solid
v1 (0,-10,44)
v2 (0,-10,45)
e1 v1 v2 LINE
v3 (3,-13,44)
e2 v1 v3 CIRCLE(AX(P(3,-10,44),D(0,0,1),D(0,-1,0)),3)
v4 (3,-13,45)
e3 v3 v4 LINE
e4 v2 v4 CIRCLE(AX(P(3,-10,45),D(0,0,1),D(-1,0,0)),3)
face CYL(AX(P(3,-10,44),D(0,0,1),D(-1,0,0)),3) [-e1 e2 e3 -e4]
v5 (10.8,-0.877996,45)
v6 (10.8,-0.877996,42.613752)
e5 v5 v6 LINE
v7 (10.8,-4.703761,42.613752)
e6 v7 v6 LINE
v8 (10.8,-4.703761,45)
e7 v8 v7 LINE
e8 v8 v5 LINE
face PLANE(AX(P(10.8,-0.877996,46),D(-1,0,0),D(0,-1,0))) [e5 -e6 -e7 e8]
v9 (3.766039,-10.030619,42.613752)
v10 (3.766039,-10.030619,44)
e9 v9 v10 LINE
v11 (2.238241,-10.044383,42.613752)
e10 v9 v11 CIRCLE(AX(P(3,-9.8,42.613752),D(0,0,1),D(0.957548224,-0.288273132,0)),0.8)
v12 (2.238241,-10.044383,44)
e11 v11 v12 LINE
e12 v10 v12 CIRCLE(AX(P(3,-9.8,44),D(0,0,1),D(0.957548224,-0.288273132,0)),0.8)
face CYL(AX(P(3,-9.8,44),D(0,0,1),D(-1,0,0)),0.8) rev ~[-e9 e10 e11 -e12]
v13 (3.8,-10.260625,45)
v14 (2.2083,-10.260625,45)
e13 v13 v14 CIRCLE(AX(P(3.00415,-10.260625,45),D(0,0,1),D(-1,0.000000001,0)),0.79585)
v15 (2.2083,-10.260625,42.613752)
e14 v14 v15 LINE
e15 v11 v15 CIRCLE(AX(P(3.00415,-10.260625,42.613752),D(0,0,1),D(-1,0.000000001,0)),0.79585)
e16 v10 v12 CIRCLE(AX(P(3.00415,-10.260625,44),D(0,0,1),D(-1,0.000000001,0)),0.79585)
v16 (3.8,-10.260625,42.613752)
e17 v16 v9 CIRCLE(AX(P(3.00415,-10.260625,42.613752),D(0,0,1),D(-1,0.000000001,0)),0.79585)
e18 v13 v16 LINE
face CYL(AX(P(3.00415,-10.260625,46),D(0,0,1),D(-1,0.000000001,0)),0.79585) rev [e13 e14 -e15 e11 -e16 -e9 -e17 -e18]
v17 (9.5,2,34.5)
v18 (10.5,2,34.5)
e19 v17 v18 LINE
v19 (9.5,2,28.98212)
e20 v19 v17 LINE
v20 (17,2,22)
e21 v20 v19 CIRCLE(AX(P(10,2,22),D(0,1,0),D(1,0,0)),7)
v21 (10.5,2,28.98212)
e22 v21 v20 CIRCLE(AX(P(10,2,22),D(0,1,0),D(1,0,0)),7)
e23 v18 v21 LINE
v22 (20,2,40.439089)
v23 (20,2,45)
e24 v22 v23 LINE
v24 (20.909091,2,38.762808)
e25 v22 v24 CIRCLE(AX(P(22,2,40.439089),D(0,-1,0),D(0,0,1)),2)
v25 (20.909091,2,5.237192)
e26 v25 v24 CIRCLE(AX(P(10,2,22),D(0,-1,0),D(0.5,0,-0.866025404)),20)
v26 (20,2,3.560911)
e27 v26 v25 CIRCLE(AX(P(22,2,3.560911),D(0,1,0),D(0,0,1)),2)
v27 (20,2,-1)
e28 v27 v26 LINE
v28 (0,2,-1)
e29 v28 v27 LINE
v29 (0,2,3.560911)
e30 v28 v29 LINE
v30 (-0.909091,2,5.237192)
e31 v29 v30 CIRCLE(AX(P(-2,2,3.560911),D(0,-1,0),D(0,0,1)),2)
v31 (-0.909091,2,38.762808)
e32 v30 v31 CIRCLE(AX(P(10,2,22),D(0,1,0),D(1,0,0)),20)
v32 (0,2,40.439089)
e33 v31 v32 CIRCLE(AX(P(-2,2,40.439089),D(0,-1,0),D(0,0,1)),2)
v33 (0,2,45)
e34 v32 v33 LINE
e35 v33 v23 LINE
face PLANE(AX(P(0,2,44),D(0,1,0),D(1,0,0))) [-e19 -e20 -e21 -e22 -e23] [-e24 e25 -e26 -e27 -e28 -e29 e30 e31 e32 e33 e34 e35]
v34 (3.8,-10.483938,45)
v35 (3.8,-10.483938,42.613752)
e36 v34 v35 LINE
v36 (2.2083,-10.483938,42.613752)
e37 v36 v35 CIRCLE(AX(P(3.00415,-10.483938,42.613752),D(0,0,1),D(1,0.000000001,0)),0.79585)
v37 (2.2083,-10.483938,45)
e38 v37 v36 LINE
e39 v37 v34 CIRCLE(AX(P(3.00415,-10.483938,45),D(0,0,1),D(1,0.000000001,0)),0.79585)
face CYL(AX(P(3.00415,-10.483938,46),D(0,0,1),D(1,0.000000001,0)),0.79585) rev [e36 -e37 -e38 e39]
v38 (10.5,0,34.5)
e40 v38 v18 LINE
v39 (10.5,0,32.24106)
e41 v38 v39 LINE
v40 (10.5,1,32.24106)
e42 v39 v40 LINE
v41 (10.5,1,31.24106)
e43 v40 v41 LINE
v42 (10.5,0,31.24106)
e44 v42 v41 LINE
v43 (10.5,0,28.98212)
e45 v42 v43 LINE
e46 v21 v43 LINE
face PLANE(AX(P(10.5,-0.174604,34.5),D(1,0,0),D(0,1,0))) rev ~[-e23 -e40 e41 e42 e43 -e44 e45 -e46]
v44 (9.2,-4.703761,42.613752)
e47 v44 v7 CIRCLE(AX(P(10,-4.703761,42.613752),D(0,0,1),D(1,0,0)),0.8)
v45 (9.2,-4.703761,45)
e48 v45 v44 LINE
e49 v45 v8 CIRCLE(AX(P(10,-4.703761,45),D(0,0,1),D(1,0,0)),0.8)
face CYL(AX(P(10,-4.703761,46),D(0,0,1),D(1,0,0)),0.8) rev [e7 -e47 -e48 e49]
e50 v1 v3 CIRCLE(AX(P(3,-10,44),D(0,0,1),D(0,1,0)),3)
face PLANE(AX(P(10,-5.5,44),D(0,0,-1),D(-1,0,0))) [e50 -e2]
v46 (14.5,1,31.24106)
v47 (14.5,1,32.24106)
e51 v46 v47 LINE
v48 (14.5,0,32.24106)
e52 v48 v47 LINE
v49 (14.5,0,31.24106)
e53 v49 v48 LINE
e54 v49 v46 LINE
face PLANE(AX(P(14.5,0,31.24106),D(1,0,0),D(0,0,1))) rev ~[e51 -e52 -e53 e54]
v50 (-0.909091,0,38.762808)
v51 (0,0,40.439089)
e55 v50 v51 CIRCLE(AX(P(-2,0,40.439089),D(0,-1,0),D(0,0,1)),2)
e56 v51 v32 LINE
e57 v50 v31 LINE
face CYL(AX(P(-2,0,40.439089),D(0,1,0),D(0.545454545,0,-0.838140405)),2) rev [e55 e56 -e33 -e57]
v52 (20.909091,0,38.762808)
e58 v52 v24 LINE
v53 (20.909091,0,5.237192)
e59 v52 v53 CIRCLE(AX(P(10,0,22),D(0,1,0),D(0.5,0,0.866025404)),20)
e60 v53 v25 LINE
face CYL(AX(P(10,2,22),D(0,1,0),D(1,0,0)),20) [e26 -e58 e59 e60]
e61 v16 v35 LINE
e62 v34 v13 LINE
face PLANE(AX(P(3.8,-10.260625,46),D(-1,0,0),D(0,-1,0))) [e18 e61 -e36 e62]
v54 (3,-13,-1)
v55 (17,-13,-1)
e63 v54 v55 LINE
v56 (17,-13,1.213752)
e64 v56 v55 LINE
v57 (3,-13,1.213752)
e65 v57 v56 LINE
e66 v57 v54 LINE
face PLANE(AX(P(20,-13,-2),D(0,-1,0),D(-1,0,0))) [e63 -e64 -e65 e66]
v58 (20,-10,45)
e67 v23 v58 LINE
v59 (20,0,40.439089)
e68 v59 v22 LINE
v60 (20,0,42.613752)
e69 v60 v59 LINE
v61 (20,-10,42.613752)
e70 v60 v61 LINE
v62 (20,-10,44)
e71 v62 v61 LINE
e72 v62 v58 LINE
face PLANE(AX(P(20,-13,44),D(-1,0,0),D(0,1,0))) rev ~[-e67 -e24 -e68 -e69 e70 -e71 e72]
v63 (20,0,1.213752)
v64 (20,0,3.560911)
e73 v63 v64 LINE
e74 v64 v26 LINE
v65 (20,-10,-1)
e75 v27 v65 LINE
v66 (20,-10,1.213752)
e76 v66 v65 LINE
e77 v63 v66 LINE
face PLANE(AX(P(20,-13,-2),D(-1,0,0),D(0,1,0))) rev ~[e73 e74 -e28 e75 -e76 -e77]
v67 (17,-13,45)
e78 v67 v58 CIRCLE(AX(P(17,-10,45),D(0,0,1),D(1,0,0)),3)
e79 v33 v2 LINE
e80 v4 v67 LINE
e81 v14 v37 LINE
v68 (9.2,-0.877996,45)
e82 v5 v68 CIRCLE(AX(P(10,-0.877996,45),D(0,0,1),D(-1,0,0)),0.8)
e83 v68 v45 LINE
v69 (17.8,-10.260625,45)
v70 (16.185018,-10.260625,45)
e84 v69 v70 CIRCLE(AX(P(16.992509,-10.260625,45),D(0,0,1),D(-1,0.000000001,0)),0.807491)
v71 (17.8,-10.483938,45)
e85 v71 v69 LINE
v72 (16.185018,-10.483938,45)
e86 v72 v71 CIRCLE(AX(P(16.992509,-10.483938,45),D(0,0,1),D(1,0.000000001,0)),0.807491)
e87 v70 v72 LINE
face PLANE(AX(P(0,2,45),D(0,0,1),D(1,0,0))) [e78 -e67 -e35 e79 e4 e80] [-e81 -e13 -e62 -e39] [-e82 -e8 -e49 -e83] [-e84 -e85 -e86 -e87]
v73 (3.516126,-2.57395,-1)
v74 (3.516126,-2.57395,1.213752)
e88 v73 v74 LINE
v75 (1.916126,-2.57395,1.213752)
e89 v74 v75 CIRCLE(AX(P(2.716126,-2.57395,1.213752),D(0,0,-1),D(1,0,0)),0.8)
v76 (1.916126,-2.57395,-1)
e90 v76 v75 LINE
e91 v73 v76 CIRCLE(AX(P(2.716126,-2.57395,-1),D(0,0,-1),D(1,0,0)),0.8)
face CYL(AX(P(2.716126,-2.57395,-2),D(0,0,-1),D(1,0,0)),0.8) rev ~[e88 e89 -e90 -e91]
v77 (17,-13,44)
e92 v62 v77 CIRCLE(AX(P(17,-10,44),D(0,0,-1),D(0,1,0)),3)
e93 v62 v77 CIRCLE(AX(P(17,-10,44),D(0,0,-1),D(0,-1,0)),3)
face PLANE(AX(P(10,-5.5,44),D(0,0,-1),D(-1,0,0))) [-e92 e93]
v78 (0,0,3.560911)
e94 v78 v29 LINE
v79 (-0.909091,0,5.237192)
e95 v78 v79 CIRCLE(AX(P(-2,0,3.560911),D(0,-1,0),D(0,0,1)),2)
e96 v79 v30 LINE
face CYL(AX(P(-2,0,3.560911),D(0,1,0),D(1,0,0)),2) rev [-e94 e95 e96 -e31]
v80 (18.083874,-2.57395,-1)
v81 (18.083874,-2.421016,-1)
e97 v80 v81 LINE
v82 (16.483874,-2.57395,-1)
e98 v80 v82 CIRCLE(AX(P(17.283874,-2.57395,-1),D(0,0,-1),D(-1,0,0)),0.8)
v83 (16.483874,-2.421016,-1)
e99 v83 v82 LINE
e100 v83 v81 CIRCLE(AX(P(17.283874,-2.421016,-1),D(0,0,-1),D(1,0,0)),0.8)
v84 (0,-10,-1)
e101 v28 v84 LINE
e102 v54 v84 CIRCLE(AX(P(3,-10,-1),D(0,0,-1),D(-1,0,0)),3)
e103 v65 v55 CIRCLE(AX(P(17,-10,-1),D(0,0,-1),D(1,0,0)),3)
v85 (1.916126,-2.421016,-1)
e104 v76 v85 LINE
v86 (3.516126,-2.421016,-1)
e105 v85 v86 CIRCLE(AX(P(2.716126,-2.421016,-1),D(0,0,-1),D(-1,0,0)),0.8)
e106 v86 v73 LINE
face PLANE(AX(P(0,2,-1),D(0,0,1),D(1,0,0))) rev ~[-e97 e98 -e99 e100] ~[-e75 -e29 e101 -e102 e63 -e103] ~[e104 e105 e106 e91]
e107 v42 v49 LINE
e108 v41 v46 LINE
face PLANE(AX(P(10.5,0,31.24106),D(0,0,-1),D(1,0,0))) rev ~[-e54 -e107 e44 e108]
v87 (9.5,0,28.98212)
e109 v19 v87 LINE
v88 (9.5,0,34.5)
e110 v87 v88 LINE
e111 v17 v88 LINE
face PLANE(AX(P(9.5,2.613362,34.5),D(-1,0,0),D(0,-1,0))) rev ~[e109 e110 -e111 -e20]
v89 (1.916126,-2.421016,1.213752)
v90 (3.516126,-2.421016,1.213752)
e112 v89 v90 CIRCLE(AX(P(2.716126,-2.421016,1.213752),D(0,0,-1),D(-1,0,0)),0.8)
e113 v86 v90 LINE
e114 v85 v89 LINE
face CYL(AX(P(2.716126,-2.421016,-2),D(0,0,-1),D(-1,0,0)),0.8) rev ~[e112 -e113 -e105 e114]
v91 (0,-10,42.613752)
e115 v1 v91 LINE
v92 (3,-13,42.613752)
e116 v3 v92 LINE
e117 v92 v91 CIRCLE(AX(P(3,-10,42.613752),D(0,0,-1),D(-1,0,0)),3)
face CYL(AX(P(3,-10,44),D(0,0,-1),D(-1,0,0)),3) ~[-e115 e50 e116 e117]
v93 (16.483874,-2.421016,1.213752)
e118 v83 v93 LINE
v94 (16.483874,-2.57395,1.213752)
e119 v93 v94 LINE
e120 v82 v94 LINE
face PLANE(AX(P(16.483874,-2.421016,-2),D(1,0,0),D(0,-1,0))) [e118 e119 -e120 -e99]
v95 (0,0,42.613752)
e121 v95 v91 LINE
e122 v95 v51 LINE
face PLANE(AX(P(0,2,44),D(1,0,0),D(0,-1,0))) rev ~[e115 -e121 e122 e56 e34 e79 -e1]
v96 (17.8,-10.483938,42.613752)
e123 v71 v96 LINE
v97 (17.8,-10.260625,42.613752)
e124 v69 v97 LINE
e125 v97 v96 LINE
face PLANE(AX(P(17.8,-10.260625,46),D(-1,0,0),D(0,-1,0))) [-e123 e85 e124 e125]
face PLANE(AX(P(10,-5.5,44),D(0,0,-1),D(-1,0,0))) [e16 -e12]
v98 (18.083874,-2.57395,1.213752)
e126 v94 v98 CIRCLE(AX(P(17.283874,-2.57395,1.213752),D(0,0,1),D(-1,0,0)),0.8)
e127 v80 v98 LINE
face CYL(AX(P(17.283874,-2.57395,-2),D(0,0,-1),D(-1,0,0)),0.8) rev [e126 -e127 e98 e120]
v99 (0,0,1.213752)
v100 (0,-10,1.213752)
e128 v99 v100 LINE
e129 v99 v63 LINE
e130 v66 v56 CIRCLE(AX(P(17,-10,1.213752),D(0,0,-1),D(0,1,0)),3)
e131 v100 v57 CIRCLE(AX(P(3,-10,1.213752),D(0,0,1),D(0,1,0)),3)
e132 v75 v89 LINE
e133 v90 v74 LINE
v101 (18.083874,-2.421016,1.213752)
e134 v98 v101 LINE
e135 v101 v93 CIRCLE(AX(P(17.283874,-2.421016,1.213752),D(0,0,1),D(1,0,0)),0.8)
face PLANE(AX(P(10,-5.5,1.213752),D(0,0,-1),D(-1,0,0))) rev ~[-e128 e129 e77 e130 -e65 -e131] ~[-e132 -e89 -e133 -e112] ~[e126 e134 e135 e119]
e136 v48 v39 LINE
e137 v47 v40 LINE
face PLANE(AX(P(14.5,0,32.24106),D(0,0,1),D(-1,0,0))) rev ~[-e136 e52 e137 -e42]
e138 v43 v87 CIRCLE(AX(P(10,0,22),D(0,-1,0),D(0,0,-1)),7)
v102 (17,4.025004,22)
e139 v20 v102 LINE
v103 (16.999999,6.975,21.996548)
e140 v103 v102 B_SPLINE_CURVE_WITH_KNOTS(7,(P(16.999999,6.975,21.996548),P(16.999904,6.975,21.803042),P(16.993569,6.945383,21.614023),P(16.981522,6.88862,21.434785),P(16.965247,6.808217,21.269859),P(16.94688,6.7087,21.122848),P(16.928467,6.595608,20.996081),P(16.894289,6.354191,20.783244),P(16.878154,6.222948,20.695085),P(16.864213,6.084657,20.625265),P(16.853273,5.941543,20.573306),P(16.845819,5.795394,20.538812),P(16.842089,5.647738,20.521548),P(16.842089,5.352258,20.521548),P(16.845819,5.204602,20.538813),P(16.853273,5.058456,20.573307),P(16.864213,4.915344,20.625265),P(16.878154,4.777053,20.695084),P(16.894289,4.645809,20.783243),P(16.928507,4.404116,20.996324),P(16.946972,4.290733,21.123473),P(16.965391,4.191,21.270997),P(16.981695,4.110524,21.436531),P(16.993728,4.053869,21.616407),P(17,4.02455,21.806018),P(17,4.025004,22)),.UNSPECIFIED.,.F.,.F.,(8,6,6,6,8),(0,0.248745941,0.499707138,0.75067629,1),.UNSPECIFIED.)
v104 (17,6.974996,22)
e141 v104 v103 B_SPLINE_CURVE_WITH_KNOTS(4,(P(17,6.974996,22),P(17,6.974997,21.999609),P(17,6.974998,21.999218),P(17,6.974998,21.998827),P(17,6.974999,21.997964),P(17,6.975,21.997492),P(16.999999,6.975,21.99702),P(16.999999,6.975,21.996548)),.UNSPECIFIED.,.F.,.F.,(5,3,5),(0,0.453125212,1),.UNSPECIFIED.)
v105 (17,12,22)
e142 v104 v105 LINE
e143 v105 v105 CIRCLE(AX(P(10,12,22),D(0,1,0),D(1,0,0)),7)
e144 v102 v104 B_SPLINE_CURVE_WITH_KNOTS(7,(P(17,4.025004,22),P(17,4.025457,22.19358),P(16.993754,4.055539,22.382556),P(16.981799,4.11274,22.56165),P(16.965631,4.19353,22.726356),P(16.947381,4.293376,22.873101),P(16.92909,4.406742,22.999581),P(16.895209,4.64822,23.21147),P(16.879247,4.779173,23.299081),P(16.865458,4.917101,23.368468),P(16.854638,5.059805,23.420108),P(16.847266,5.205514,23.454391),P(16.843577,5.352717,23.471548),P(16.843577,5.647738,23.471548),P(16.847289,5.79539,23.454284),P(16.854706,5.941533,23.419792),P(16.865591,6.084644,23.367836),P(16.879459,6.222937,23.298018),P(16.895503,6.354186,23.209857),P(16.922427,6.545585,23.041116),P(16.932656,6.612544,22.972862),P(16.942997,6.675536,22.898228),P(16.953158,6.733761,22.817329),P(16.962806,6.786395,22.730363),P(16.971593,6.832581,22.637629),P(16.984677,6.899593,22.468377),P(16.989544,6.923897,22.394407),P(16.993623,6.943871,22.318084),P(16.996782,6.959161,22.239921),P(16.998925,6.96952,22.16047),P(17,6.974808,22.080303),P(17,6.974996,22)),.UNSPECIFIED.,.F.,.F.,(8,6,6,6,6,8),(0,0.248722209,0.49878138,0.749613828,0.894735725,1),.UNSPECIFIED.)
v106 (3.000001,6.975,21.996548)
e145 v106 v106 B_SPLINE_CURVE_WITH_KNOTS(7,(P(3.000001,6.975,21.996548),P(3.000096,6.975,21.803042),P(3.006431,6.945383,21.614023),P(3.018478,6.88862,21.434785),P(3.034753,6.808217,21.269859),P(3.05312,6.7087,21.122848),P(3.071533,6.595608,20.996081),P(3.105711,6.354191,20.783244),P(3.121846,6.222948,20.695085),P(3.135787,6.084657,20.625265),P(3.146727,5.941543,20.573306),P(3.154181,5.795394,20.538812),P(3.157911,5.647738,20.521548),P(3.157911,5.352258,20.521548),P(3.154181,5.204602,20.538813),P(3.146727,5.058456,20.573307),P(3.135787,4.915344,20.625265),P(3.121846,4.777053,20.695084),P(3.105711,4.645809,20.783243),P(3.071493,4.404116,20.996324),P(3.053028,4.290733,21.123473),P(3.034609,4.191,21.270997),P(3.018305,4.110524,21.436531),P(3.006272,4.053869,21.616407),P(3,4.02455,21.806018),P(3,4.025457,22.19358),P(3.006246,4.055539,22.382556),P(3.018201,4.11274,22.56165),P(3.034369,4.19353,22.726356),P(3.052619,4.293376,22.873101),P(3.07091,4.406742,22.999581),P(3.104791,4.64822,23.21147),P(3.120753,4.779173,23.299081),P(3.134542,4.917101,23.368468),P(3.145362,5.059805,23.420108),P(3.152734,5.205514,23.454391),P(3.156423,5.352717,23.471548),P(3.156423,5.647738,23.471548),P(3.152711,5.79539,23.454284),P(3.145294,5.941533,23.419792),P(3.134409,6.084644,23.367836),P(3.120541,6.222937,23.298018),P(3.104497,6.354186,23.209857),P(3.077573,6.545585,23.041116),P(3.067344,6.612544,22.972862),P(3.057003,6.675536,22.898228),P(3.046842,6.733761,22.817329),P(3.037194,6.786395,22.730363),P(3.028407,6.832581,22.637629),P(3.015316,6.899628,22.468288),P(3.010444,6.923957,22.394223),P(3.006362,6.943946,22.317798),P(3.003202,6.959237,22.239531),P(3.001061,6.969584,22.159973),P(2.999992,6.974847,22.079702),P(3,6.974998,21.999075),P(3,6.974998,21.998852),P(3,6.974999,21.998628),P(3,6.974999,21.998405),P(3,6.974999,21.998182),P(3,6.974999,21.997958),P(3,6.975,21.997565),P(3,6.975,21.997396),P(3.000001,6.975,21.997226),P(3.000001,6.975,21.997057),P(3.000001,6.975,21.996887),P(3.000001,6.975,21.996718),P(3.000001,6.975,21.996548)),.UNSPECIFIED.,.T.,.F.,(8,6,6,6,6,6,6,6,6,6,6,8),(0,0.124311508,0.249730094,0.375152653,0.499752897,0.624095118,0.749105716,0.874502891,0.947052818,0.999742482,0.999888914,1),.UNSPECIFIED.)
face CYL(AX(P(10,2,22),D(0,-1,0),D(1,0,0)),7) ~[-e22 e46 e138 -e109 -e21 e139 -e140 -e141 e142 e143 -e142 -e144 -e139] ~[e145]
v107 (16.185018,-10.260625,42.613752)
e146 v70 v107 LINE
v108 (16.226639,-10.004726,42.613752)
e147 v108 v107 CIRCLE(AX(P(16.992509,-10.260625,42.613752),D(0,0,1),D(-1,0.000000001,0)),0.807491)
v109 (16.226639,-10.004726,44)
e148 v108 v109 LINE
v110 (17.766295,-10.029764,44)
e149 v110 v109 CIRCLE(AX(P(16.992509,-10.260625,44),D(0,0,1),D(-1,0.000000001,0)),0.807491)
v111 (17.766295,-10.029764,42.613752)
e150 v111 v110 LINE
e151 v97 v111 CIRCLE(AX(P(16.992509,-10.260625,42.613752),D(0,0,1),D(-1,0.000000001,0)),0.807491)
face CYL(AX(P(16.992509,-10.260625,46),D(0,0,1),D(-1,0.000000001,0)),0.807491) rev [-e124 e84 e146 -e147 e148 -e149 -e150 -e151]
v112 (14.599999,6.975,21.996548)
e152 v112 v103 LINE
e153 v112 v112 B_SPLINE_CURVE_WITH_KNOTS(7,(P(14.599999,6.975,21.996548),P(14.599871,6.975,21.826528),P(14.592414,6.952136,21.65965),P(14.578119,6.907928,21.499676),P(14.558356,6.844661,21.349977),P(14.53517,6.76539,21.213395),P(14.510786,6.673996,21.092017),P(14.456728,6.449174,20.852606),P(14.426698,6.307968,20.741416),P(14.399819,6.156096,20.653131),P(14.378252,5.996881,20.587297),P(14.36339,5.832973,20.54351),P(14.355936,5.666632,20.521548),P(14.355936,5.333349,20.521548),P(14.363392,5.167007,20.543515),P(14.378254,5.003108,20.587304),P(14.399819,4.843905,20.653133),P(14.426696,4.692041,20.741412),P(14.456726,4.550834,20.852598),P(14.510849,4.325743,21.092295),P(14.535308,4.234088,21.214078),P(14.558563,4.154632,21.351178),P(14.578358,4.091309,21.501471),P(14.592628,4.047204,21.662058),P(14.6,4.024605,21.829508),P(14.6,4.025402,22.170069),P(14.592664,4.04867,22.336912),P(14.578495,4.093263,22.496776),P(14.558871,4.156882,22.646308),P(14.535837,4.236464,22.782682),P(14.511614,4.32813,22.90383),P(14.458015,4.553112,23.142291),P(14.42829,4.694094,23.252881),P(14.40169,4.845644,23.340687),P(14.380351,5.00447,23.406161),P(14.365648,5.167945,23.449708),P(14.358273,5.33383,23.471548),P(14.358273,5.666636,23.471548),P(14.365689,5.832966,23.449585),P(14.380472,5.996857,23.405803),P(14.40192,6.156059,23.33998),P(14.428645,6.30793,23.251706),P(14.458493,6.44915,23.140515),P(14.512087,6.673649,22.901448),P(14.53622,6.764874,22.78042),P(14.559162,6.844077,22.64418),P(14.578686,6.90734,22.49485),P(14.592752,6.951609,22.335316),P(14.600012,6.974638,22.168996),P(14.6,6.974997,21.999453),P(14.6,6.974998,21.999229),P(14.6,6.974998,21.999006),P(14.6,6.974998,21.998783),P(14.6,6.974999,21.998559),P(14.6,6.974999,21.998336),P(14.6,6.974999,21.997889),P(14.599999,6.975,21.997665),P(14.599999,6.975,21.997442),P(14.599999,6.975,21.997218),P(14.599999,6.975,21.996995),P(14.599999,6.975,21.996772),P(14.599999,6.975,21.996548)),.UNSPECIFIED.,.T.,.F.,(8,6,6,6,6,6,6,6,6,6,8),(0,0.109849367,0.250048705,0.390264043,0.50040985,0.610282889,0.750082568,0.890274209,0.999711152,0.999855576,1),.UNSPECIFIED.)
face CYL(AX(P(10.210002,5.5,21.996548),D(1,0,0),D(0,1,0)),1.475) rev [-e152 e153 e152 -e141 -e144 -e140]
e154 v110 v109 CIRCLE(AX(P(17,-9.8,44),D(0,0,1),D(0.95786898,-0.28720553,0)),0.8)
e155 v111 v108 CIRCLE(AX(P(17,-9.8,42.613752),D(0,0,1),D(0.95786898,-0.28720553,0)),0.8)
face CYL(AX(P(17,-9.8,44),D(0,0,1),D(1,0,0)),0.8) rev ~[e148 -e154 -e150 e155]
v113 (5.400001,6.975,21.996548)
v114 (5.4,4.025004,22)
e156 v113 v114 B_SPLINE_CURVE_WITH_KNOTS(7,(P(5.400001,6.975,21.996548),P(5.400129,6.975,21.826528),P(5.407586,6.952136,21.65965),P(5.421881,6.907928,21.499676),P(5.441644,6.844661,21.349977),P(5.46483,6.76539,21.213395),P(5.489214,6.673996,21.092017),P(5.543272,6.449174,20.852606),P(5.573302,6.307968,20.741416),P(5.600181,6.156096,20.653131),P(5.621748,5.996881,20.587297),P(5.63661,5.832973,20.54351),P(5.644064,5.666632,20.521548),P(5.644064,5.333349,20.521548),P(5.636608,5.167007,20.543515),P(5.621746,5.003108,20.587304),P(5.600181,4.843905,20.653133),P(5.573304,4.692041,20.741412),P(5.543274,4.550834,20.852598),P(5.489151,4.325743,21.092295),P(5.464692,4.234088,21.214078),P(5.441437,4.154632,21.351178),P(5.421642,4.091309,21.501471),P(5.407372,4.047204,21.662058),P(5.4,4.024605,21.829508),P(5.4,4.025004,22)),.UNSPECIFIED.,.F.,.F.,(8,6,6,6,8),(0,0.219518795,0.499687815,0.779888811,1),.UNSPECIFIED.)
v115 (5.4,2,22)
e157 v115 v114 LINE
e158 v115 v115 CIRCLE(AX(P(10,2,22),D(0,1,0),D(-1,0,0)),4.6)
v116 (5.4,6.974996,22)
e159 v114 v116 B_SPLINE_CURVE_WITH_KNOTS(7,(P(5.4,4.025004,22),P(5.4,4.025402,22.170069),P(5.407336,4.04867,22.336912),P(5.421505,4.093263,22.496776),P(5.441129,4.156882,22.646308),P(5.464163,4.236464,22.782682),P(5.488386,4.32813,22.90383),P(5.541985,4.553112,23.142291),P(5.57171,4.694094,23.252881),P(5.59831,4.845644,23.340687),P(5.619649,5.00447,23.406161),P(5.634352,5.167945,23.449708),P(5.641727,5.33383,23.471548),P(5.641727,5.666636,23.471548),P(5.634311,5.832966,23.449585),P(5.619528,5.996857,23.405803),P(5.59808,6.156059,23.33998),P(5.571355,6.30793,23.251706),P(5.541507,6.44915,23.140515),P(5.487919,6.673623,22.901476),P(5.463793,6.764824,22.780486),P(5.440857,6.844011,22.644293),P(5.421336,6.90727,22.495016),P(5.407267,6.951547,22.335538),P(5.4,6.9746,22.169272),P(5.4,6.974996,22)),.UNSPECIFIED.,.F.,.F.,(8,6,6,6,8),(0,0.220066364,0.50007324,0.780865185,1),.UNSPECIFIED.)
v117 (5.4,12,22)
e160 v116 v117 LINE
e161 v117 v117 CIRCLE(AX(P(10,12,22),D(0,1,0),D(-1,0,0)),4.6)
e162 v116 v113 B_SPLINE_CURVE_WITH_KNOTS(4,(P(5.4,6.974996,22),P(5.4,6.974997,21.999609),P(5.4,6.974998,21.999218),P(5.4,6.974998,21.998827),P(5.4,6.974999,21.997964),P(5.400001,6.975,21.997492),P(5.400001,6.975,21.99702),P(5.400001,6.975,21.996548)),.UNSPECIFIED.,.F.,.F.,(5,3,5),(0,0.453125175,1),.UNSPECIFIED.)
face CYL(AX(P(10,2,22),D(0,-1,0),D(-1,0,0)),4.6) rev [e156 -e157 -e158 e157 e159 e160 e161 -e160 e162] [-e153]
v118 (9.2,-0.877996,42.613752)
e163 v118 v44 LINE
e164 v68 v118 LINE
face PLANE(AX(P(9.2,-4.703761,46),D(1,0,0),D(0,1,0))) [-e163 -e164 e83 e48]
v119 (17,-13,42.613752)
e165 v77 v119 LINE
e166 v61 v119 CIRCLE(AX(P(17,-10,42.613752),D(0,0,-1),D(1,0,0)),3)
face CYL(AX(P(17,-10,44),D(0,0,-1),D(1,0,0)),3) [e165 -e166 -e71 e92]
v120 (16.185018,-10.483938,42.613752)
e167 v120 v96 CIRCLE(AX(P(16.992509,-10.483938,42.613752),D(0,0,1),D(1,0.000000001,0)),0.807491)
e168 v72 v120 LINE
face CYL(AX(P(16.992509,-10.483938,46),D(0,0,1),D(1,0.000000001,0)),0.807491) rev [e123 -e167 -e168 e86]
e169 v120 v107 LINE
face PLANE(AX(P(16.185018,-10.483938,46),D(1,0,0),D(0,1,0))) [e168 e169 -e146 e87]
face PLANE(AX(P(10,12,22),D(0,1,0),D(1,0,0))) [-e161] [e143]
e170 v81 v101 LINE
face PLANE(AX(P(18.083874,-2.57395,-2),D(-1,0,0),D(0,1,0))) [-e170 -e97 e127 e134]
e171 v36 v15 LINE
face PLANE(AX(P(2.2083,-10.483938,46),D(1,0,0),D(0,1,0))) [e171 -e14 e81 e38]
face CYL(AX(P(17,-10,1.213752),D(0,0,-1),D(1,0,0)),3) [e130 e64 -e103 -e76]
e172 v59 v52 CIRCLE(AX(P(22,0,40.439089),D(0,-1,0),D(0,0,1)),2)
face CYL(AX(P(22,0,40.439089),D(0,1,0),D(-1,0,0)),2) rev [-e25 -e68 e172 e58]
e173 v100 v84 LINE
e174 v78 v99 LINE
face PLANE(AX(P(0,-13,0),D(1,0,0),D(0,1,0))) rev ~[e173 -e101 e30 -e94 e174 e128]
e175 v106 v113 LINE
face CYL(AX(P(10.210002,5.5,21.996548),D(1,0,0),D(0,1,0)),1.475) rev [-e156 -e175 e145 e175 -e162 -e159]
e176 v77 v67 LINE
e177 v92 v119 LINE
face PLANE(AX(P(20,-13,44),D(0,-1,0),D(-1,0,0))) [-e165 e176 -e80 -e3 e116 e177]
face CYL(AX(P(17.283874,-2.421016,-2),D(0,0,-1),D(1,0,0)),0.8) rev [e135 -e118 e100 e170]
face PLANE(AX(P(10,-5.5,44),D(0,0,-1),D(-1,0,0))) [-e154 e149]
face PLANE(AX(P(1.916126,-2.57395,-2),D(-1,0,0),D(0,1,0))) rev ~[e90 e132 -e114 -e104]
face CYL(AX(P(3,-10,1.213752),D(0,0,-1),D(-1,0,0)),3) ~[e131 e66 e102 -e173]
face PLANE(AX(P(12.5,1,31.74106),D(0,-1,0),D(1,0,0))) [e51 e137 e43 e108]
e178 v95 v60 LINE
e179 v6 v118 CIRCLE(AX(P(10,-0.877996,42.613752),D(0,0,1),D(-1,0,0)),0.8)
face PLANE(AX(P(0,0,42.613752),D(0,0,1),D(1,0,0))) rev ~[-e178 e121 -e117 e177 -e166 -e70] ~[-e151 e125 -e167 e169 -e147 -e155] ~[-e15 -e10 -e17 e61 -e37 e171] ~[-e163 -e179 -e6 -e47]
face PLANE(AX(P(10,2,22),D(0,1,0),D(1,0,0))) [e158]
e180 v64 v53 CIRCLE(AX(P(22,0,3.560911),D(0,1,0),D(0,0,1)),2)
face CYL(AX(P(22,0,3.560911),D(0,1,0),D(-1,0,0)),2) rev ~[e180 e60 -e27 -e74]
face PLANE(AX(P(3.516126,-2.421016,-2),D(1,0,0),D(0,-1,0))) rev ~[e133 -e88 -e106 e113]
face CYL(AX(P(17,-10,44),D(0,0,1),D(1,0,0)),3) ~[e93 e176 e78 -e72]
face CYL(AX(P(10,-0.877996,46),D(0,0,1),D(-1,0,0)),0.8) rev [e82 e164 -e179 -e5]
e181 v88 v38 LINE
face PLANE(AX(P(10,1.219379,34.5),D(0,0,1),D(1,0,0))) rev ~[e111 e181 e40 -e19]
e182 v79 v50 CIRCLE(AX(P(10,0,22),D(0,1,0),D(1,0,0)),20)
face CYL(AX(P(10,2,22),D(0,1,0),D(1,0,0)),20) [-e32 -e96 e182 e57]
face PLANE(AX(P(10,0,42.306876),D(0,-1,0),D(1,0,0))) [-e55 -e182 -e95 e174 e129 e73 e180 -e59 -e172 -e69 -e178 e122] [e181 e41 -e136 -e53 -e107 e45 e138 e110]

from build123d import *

# Parameters (mm, degrees)
SKETCH_1_W               = 20
SKETCH_1_H               = 13
SKETCH_1_R               = 0.8
EXTRUDE_1_DEPTH          = 2
EXTRUDE_2_DEPTH          = 2
SKETCH_3_R               = 7
SKETCH_3_R_2             = 4.6
EXTRUDE_3_DEPTH          = 10
SKETCH_4_R               = 20
EXTRUDE_4_DEPTH          = 2
SKETCH_6_W               = 20.177677641
SKETCH_6_H               = 1.475
FILLET_1_R               = 3
CUT_EXTRUDE_1_REACH      = 49.896
CUT_EXTRUDE_1_END_RADIUS = 7
EXTRUDE_5_DEPTH          = 2
SKETCH_9_R               = 0.8
EXTRUDE_6_DEPTH          = 2
CUT_EXTRUDE_2_REACH      = 58.436
SKETCH_10_W              = 20
SKETCH_10_H              = 0.613752116
SKETCH_10_H_2            = 0.786247884
FILLET_2_R               = 3
CUT_EXTRUDE_START        = -10
CUT_EXTRUDE_3_DEPTH      = 10
CUT_EXTRUDE_4_DEPTH      = 10
FILLET_3_R               = 2
SKETCH_13_W              = 20
SKETCH_13_H              = 15
EXTRUDE_7_DEPTH          = 3.213752116
FILLET_4_R               = 3
CUT_EXTRUDE_5_DEPTH      = 3.213752116
CUT_EXTRUDE_6_DEPTH      = 1
CUT_EXTRUDE_7_REACH      = 58.93
SKETCH_16_W              = 20
SKETCH_16_H              = 1


with BuildPart() as part:
    # 草图1 → 凸台-拉伸1 (new body)
    with BuildSketch(Plane.XY):
        with Locations((10, -6.5)):
            Rectangle(SKETCH_1_W, SKETCH_1_H)
        with Locations((10, -2.8)):
            Circle(SKETCH_1_R, mode=Mode.SUBTRACT)
        with Locations((17, -9.8)):
            Circle(SKETCH_1_R, mode=Mode.SUBTRACT)
        with Locations(Location((3, -9.8, 0), (0, 0, 180))):
            Circle(SKETCH_1_R, mode=Mode.SUBTRACT)
    extrude_1 = extrude(amount=EXTRUDE_1_DEPTH)

    # 草图2 → 凸台-拉伸2 (add)
    with BuildSketch(Plane(origin=(0, 0, 0), x_dir=(1, 0, 0), z_dir=(0, 1, 0))):
        Polygon((0, 0), (0, -44), (0, -44.5), (20, -44.5), (20, -44), (20, 0), (20, 0.5), (0, 0.5), align=None)
    extrude(amount=EXTRUDE_2_DEPTH)

    # 镜向1: 凸台-拉伸1 across plane
    add(extrude_1.mirror(Plane.XY.offset(22)))

    # 草图3 → 凸台-拉伸3 (add)
    with BuildSketch(Plane(origin=(0, 2, 0), x_dir=(1, 0, 0), z_dir=(0, 1, 0))):
        with Locations((10, -22)):
            Circle(SKETCH_3_R)
        with Locations(Location((10, -22, 0), (0, 0, 180))):
            Circle(SKETCH_3_R_2, mode=Mode.SUBTRACT)
    extrude(amount=EXTRUDE_3_DEPTH)

    # 草图4 → 凸台-拉伸4 (add)
    with BuildSketch(Plane(origin=(0, 2, 0), x_dir=(1, 0, 0), z_dir=(0, 1, 0))):
        with Locations((10, -22)):
            Circle(SKETCH_4_R)
    extrude(amount=-EXTRUDE_4_DEPTH)

    # 草图6 → 切除-旋转1 (revolve, cut)
    with BuildSketch(Plane(origin=(0, 5.5, 0), x_dir=(1, 0, 0), z_dir=(0, 1, 0)), mode=Mode.PRIVATE) as cut_revolve_1_sk:
        with Locations((10.210002175, -21.25904805)):
            Rectangle(SKETCH_6_W, SKETCH_6_H)
    revolve(cut_revolve_1_sk.sketch.rotate(Axis((22.976612399, 5.5, 21.99654805), (-1, 0, 0)), 270), axis=Axis((22.976612399, 5.5, 21.99654805), (-1, 0, 0)), mode=Mode.SUBTRACT)

    # 圆角1
    fillet_1_edges = [part.edges().sort_by_distance(p)[0] for p in [
        (0, -13, 43),
        (20, -13, 43),
        (20, -13, 1),
        (0, -13, 1),
    ]]
    fillet(fillet_1_edges, radius=FILLET_1_R)

    # 切除-拉伸1: up to this cylinder (the profile starts outside it)
    cut_extrude_1_end = Plane(origin=(10, 1.219379, 22), z_dir=(0, -1, 0)) * Cylinder(CUT_EXTRUDE_1_END_RADIUS, 114.792, mode=Mode.PRIVATE)
    # 草图7 → 切除-拉伸1 (cut, up to the surface)
    with BuildSketch(Plane.XY.offset(34.5), mode=Mode.PRIVATE) as cut_extrude_1_sk1:
        Polygon((10, -0.174604114), (10.5, -0.174604114), (10.5, 2.613362212), (9.5, 2.613362212), (9.5, -0.174604114), align=None)
    cut_extrude_1_tool1 = extrude(cut_extrude_1_sk1.sketch, amount=-CUT_EXTRUDE_1_REACH, mode=Mode.PRIVATE) - cut_extrude_1_end
    add(cut_extrude_1_tool1.solids().sort_by_distance((10, 1.219379, 34.5))[0], mode=Mode.SUBTRACT)

    # 草图8 → 凸台-拉伸5 (add)
    with BuildSketch(Plane(origin=(0, 0, 0), x_dir=(-1, 0, 0), z_dir=(0, 0, -1))):
        Polygon((0, 0), (0, -13), (-20, -13), (-20, 0), (-20, 2), (0, 2), align=None)
        with BuildLine():
            Line((-18.05, -11.419506456), (-18.05, -9.69245789))
            ThreePointArc((-18.05, -9.69245789), (-17.25, -8.89245789), (-16.45, -9.69245789))
            Line((-16.45, -9.69245789), (-16.45, -11.419506456))
            ThreePointArc((-16.45, -11.419506456), (-17.25, -12.219506456), (-18.05, -11.419506456))
        make_face(mode=Mode.SUBTRACT)
        with BuildLine():
            Line((-1.95, -11.419506456), (-1.95, -9.69245789))
            ThreePointArc((-1.95, -9.69245789), (-2.75, -8.89245789), (-3.55, -9.69245789))
            Line((-3.55, -9.69245789), (-3.55, -11.419506456))
            ThreePointArc((-3.55, -11.419506456), (-2.75, -12.219506456), (-1.95, -11.419506456))
        make_face(mode=Mode.SUBTRACT)
    extrude(amount=EXTRUDE_5_DEPTH)

    # 草图9 → 凸台-拉伸6 (add)
    with BuildSketch(Plane.XY.offset(44)):
        Polygon((20, 0), (20, -13), (0, -13), (0, 0), (0, 2), (20, 2), align=None)
        with Locations((10, -2.8)):
            Circle(SKETCH_9_R, mode=Mode.SUBTRACT)
    extrude(amount=EXTRUDE_6_DEPTH)

    # 切除-拉伸2: up to this face of the body (flat: up to its plane)
    cut_extrude_2_end = Plane(part.part.faces().sort_by_distance((10, -13, -0.176470588))[0])
    # 草图10 → 切除-拉伸2 (cut, up to the picked face)
    with BuildSketch(Plane.XZ, mode=Mode.PRIVATE) as cut_extrude_2_sk1:
        Polygon((20, 42), (0, 42), (0, 39.320508076), (0, 4.679491924), (0, 2), (20, 2), (20, 4.679491924), (20, 39.320508076), align=None)
        with BuildLine():
            Line((9.5, 28.982120022), (9.5, 34.5))
            Line((9.5, 34.5), (10.5, 34.5))
            Line((10.5, 34.5), (10.5, 28.982120022))
            ThreePointArc((10.5, 28.982120022), (10, 29), (9.5, 28.982120022))
        make_face(mode=Mode.SUBTRACT)
    cut_extrude_2_tool1 = split(extrude(cut_extrude_2_sk1.sketch, amount=CUT_EXTRUDE_2_REACH, mode=Mode.PRIVATE), bisect_by=cut_extrude_2_end, keep=Keep.BOTH, mode=Mode.PRIVATE)
    # 草图10 → 切除-拉伸2 (cut, up to the picked face)
    with BuildSketch(Plane.XZ, mode=Mode.PRIVATE) as cut_extrude_2_sk2:
        with Locations((10, 42.306876058)):
            Rectangle(SKETCH_10_W, SKETCH_10_H)
    cut_extrude_2_tool2 = split(extrude(cut_extrude_2_sk2.sketch, amount=CUT_EXTRUDE_2_REACH, mode=Mode.PRIVATE), bisect_by=cut_extrude_2_end, keep=Keep.BOTH, mode=Mode.PRIVATE)
    # 草图10 → 切除-拉伸2 (cut, up to the picked face)
    with BuildSketch(Plane.XZ, mode=Mode.PRIVATE) as cut_extrude_2_sk3:
        with Locations((10, 1.606876058)):
            Rectangle(SKETCH_10_W, SKETCH_10_H_2)
    cut_extrude_2_tool3 = split(extrude(cut_extrude_2_sk3.sketch, amount=CUT_EXTRUDE_2_REACH, mode=Mode.PRIVATE), bisect_by=cut_extrude_2_end, keep=Keep.BOTH, mode=Mode.PRIVATE)
    add(cut_extrude_2_tool1.solids().sort_by(Axis((10, 0, 21.932452), (0, -1, 0)))[0], mode=Mode.SUBTRACT)
    add(cut_extrude_2_tool2.solids().sort_by(Axis((10, 0, 42.306876), (0, -1, 0)))[0], mode=Mode.SUBTRACT)
    add(cut_extrude_2_tool3.solids().sort_by(Axis((10, 0, 1.606876), (0, -1, 0)))[0], mode=Mode.SUBTRACT)

    # 圆角2
    fillet_2_edges = [part.edges().sort_by_distance(p)[0] for p in [
        (0, -13, -1),
        (20, -13, -1),
        (0, -13, 45),
        (20, -13, 45),
    ]]
    fillet(fillet_2_edges, radius=FILLET_2_R)

    # 草图11 → 切除-拉伸3 (cut)
    with BuildSketch(Plane(origin=(0, 0, -2), x_dir=(-1, 0, 0), z_dir=(0, 0, -1)).offset(CUT_EXTRUDE_START)):
        with BuildLine():
            ThreePointArc((-16.45, -11.419506456), (-17.25, -12.219506456), (-18.05, -11.419506456))
            Line((-18.05, -11.419506456), (-18.05, -9.69245789))
            ThreePointArc((-18.05, -9.69245789), (-17.25, -8.89245789), (-16.45, -9.69245789))
            Line((-16.45, -9.69245789), (-16.45, -11.419506456))
        make_face()
        with BuildLine():
            ThreePointArc((-1.95, -11.419506456), (-2.75, -12.219506456), (-3.55, -11.419506456))
            Line((-3.55, -11.419506456), (-3.55, -9.69245789))
            ThreePointArc((-3.55, -9.69245789), (-2.75, -8.89245789), (-1.95, -9.69245789))
            Line((-1.95, -9.69245789), (-1.95, -11.419506456))
        make_face()
    extrude(amount=CUT_EXTRUDE_3_DEPTH, mode=Mode.SUBTRACT)

    # 草图12 → 切除-拉伸4 (cut)
    with BuildSketch(Plane.XY.offset(46)):
        with BuildLine():
            Line((10.8, -0.877995813), (10.8, -4.703761183))
            ThreePointArc((10.8, -4.703761183), (10, -5.503761183), (9.2, -4.703761183))
            Line((9.2, -4.703761183), (9.2, -0.877995813))
            ThreePointArc((9.2, -0.877995813), (10, -0.077995813), (10.8, -0.877995813))
        make_face()
        with BuildLine():
            Line((3.8, -10.260625083), (3.8, -10.483938274))
            ThreePointArc((3.8, -10.483938274), (3.004149842, -11.279788432), (2.208299685, -10.483938274))
            Line((2.208299685, -10.483938274), (2.208299685, -10.260625083))
            ThreePointArc((2.208299685, -10.260625083), (3.004149842, -9.464774926), (3.8, -10.260625083))
        make_face()
        with BuildLine():
            Line((17.8, -10.260625083), (17.8, -10.483938274))
            ThreePointArc((17.8, -10.483938274), (16.992509178, -11.291429096), (16.185018357, -10.483938274))
            Line((16.185018357, -10.483938274), (16.185018357, -10.260625083))
            ThreePointArc((16.185018357, -10.260625083), (16.992509178, -9.453134262), (17.8, -10.260625083))
        make_face()
    extrude(amount=-CUT_EXTRUDE_4_DEPTH, mode=Mode.SUBTRACT)

    # 圆角3
    fillet_3_edges = [part.edges().sort_by_distance(p)[0] for p in [
        (0, 1, 4.679491924),
        (20, 1, 4.679491924),
        (0, 1, 39.320508076),
        (20, 1, 39.320508076),
    ]]
    fillet(fillet_3_edges, radius=FILLET_3_R)

    # 草图13 → 凸台-拉伸7 (add)
    with BuildSketch(Plane(origin=(0, 0, -2), x_dir=(-1, 0, 0), z_dir=(0, 0, -1))):
        with Locations((-10, -5.5)):
            Rectangle(SKETCH_13_W, SKETCH_13_H)
        with BuildLine():
            Line((-18.05, -2.863524283), (-18.05, -1.136475717))
            ThreePointArc((-18.05, -1.136475717), (-17.25, -0.336475717), (-16.45, -1.136475717))
            Line((-16.45, -1.136475717), (-16.45, -2.863524283))
            ThreePointArc((-16.45, -2.863524283), (-17.25, -3.663524283), (-18.05, -2.863524283))
        make_face(mode=Mode.SUBTRACT)
        with BuildLine():
            Line((-1.95, -2.863524283), (-1.95, -1.136475717))
            ThreePointArc((-1.95, -1.136475717), (-2.75, -0.336475717), (-3.55, -1.136475717))
            Line((-3.55, -1.136475717), (-3.55, -2.863524283))
            ThreePointArc((-3.55, -2.863524283), (-2.75, -3.663524283), (-1.95, -2.863524283))
        make_face(mode=Mode.SUBTRACT)
    extrude(amount=-EXTRUDE_7_DEPTH)

    # 圆角4
    fillet_4_edges = [part.edges().sort_by_distance(p)[0] for p in [
        (0, -13, -0.393123942),
        (20, -13, -0.393123942),
    ]]
    fillet(fillet_4_edges, radius=FILLET_4_R)

    # 草图14 → 切除-拉伸5 (cut)
    with BuildSketch(Plane(origin=(0, 0, -2), x_dir=(-1, 0, 0), z_dir=(0, 0, -1))):
        with BuildLine():
            Line((-18.083873796, -2.573949701), (-18.083873796, -2.42101558))
            ThreePointArc((-18.083873796, -2.42101558), (-17.283873796, -1.62101558), (-16.483873796, -2.42101558))
            Line((-16.483873796, -2.42101558), (-16.483873796, -2.573949701))
            ThreePointArc((-16.483873796, -2.573949701), (-17.283873796, -3.373949701), (-18.083873796, -2.573949701))
        make_face()
        with BuildLine():
            Line((-1.916126204, -2.573949701), (-1.916126204, -2.42101558))
            ThreePointArc((-1.916126204, -2.42101558), (-2.716126204, -1.62101558), (-3.516126204, -2.42101558))
            Line((-3.516126204, -2.42101558), (-3.516126204, -2.573949701))
            ThreePointArc((-3.516126204, -2.573949701), (-2.716126204, -3.373949701), (-1.916126204, -2.573949701))
        make_face()
    extrude(amount=-CUT_EXTRUDE_5_DEPTH, mode=Mode.SUBTRACT)

    # 草图15 → 切除-拉伸6 (cut)
    with BuildSketch(Plane.XZ):
        Polygon((10.5, 32.241060011), (10.5, 31.741060011), (10.5, 31.241060011), (14.5, 31.241060011), (14.5, 32.241060011), align=None)
    extrude(amount=-CUT_EXTRUDE_6_DEPTH, mode=Mode.SUBTRACT)

    # 切除-拉伸7: up to this face of the body (flat: up to its plane)
    cut_extrude_7_end = Plane(part.part.faces().sort_by_distance((10, -13, -0.393123942))[0])
    # 草图16 → 切除-拉伸7 (cut, up to the picked face)
    with BuildSketch(Plane(origin=(0, 2, 0), x_dir=(1, 0, 0), z_dir=(0, 1, 0)), mode=Mode.PRIVATE) as cut_extrude_7_sk1:
        with Locations((10, 1.5)):
            Rectangle(SKETCH_16_W, SKETCH_16_H)
    cut_extrude_7_tool1 = split(extrude(cut_extrude_7_sk1.sketch, amount=-CUT_EXTRUDE_7_REACH, mode=Mode.PRIVATE), bisect_by=cut_extrude_7_end, keep=Keep.BOTH, mode=Mode.PRIVATE)
    # 草图16 → 切除-拉伸7 (cut, up to the picked face)
    with BuildSketch(Plane(origin=(0, 2, 0), x_dir=(1, 0, 0), z_dir=(0, 1, 0)), mode=Mode.PRIVATE) as cut_extrude_7_sk2:
        with Locations((10, -45.5)):
            Rectangle(SKETCH_16_W, SKETCH_16_H)
    cut_extrude_7_tool2 = split(extrude(cut_extrude_7_sk2.sketch, amount=-CUT_EXTRUDE_7_REACH, mode=Mode.PRIVATE), bisect_by=cut_extrude_7_end, keep=Keep.BOTH, mode=Mode.PRIVATE)
    add(cut_extrude_7_tool1.solids().sort_by(Axis((10, 2, -1.5), (0, -1, 0)))[0], mode=Mode.SUBTRACT)
    add(cut_extrude_7_tool2.solids().sort_by(Axis((10, 2, 45.5), (0, -1, 0)))[0], mode=Mode.SUBTRACT)


solid = part.part
